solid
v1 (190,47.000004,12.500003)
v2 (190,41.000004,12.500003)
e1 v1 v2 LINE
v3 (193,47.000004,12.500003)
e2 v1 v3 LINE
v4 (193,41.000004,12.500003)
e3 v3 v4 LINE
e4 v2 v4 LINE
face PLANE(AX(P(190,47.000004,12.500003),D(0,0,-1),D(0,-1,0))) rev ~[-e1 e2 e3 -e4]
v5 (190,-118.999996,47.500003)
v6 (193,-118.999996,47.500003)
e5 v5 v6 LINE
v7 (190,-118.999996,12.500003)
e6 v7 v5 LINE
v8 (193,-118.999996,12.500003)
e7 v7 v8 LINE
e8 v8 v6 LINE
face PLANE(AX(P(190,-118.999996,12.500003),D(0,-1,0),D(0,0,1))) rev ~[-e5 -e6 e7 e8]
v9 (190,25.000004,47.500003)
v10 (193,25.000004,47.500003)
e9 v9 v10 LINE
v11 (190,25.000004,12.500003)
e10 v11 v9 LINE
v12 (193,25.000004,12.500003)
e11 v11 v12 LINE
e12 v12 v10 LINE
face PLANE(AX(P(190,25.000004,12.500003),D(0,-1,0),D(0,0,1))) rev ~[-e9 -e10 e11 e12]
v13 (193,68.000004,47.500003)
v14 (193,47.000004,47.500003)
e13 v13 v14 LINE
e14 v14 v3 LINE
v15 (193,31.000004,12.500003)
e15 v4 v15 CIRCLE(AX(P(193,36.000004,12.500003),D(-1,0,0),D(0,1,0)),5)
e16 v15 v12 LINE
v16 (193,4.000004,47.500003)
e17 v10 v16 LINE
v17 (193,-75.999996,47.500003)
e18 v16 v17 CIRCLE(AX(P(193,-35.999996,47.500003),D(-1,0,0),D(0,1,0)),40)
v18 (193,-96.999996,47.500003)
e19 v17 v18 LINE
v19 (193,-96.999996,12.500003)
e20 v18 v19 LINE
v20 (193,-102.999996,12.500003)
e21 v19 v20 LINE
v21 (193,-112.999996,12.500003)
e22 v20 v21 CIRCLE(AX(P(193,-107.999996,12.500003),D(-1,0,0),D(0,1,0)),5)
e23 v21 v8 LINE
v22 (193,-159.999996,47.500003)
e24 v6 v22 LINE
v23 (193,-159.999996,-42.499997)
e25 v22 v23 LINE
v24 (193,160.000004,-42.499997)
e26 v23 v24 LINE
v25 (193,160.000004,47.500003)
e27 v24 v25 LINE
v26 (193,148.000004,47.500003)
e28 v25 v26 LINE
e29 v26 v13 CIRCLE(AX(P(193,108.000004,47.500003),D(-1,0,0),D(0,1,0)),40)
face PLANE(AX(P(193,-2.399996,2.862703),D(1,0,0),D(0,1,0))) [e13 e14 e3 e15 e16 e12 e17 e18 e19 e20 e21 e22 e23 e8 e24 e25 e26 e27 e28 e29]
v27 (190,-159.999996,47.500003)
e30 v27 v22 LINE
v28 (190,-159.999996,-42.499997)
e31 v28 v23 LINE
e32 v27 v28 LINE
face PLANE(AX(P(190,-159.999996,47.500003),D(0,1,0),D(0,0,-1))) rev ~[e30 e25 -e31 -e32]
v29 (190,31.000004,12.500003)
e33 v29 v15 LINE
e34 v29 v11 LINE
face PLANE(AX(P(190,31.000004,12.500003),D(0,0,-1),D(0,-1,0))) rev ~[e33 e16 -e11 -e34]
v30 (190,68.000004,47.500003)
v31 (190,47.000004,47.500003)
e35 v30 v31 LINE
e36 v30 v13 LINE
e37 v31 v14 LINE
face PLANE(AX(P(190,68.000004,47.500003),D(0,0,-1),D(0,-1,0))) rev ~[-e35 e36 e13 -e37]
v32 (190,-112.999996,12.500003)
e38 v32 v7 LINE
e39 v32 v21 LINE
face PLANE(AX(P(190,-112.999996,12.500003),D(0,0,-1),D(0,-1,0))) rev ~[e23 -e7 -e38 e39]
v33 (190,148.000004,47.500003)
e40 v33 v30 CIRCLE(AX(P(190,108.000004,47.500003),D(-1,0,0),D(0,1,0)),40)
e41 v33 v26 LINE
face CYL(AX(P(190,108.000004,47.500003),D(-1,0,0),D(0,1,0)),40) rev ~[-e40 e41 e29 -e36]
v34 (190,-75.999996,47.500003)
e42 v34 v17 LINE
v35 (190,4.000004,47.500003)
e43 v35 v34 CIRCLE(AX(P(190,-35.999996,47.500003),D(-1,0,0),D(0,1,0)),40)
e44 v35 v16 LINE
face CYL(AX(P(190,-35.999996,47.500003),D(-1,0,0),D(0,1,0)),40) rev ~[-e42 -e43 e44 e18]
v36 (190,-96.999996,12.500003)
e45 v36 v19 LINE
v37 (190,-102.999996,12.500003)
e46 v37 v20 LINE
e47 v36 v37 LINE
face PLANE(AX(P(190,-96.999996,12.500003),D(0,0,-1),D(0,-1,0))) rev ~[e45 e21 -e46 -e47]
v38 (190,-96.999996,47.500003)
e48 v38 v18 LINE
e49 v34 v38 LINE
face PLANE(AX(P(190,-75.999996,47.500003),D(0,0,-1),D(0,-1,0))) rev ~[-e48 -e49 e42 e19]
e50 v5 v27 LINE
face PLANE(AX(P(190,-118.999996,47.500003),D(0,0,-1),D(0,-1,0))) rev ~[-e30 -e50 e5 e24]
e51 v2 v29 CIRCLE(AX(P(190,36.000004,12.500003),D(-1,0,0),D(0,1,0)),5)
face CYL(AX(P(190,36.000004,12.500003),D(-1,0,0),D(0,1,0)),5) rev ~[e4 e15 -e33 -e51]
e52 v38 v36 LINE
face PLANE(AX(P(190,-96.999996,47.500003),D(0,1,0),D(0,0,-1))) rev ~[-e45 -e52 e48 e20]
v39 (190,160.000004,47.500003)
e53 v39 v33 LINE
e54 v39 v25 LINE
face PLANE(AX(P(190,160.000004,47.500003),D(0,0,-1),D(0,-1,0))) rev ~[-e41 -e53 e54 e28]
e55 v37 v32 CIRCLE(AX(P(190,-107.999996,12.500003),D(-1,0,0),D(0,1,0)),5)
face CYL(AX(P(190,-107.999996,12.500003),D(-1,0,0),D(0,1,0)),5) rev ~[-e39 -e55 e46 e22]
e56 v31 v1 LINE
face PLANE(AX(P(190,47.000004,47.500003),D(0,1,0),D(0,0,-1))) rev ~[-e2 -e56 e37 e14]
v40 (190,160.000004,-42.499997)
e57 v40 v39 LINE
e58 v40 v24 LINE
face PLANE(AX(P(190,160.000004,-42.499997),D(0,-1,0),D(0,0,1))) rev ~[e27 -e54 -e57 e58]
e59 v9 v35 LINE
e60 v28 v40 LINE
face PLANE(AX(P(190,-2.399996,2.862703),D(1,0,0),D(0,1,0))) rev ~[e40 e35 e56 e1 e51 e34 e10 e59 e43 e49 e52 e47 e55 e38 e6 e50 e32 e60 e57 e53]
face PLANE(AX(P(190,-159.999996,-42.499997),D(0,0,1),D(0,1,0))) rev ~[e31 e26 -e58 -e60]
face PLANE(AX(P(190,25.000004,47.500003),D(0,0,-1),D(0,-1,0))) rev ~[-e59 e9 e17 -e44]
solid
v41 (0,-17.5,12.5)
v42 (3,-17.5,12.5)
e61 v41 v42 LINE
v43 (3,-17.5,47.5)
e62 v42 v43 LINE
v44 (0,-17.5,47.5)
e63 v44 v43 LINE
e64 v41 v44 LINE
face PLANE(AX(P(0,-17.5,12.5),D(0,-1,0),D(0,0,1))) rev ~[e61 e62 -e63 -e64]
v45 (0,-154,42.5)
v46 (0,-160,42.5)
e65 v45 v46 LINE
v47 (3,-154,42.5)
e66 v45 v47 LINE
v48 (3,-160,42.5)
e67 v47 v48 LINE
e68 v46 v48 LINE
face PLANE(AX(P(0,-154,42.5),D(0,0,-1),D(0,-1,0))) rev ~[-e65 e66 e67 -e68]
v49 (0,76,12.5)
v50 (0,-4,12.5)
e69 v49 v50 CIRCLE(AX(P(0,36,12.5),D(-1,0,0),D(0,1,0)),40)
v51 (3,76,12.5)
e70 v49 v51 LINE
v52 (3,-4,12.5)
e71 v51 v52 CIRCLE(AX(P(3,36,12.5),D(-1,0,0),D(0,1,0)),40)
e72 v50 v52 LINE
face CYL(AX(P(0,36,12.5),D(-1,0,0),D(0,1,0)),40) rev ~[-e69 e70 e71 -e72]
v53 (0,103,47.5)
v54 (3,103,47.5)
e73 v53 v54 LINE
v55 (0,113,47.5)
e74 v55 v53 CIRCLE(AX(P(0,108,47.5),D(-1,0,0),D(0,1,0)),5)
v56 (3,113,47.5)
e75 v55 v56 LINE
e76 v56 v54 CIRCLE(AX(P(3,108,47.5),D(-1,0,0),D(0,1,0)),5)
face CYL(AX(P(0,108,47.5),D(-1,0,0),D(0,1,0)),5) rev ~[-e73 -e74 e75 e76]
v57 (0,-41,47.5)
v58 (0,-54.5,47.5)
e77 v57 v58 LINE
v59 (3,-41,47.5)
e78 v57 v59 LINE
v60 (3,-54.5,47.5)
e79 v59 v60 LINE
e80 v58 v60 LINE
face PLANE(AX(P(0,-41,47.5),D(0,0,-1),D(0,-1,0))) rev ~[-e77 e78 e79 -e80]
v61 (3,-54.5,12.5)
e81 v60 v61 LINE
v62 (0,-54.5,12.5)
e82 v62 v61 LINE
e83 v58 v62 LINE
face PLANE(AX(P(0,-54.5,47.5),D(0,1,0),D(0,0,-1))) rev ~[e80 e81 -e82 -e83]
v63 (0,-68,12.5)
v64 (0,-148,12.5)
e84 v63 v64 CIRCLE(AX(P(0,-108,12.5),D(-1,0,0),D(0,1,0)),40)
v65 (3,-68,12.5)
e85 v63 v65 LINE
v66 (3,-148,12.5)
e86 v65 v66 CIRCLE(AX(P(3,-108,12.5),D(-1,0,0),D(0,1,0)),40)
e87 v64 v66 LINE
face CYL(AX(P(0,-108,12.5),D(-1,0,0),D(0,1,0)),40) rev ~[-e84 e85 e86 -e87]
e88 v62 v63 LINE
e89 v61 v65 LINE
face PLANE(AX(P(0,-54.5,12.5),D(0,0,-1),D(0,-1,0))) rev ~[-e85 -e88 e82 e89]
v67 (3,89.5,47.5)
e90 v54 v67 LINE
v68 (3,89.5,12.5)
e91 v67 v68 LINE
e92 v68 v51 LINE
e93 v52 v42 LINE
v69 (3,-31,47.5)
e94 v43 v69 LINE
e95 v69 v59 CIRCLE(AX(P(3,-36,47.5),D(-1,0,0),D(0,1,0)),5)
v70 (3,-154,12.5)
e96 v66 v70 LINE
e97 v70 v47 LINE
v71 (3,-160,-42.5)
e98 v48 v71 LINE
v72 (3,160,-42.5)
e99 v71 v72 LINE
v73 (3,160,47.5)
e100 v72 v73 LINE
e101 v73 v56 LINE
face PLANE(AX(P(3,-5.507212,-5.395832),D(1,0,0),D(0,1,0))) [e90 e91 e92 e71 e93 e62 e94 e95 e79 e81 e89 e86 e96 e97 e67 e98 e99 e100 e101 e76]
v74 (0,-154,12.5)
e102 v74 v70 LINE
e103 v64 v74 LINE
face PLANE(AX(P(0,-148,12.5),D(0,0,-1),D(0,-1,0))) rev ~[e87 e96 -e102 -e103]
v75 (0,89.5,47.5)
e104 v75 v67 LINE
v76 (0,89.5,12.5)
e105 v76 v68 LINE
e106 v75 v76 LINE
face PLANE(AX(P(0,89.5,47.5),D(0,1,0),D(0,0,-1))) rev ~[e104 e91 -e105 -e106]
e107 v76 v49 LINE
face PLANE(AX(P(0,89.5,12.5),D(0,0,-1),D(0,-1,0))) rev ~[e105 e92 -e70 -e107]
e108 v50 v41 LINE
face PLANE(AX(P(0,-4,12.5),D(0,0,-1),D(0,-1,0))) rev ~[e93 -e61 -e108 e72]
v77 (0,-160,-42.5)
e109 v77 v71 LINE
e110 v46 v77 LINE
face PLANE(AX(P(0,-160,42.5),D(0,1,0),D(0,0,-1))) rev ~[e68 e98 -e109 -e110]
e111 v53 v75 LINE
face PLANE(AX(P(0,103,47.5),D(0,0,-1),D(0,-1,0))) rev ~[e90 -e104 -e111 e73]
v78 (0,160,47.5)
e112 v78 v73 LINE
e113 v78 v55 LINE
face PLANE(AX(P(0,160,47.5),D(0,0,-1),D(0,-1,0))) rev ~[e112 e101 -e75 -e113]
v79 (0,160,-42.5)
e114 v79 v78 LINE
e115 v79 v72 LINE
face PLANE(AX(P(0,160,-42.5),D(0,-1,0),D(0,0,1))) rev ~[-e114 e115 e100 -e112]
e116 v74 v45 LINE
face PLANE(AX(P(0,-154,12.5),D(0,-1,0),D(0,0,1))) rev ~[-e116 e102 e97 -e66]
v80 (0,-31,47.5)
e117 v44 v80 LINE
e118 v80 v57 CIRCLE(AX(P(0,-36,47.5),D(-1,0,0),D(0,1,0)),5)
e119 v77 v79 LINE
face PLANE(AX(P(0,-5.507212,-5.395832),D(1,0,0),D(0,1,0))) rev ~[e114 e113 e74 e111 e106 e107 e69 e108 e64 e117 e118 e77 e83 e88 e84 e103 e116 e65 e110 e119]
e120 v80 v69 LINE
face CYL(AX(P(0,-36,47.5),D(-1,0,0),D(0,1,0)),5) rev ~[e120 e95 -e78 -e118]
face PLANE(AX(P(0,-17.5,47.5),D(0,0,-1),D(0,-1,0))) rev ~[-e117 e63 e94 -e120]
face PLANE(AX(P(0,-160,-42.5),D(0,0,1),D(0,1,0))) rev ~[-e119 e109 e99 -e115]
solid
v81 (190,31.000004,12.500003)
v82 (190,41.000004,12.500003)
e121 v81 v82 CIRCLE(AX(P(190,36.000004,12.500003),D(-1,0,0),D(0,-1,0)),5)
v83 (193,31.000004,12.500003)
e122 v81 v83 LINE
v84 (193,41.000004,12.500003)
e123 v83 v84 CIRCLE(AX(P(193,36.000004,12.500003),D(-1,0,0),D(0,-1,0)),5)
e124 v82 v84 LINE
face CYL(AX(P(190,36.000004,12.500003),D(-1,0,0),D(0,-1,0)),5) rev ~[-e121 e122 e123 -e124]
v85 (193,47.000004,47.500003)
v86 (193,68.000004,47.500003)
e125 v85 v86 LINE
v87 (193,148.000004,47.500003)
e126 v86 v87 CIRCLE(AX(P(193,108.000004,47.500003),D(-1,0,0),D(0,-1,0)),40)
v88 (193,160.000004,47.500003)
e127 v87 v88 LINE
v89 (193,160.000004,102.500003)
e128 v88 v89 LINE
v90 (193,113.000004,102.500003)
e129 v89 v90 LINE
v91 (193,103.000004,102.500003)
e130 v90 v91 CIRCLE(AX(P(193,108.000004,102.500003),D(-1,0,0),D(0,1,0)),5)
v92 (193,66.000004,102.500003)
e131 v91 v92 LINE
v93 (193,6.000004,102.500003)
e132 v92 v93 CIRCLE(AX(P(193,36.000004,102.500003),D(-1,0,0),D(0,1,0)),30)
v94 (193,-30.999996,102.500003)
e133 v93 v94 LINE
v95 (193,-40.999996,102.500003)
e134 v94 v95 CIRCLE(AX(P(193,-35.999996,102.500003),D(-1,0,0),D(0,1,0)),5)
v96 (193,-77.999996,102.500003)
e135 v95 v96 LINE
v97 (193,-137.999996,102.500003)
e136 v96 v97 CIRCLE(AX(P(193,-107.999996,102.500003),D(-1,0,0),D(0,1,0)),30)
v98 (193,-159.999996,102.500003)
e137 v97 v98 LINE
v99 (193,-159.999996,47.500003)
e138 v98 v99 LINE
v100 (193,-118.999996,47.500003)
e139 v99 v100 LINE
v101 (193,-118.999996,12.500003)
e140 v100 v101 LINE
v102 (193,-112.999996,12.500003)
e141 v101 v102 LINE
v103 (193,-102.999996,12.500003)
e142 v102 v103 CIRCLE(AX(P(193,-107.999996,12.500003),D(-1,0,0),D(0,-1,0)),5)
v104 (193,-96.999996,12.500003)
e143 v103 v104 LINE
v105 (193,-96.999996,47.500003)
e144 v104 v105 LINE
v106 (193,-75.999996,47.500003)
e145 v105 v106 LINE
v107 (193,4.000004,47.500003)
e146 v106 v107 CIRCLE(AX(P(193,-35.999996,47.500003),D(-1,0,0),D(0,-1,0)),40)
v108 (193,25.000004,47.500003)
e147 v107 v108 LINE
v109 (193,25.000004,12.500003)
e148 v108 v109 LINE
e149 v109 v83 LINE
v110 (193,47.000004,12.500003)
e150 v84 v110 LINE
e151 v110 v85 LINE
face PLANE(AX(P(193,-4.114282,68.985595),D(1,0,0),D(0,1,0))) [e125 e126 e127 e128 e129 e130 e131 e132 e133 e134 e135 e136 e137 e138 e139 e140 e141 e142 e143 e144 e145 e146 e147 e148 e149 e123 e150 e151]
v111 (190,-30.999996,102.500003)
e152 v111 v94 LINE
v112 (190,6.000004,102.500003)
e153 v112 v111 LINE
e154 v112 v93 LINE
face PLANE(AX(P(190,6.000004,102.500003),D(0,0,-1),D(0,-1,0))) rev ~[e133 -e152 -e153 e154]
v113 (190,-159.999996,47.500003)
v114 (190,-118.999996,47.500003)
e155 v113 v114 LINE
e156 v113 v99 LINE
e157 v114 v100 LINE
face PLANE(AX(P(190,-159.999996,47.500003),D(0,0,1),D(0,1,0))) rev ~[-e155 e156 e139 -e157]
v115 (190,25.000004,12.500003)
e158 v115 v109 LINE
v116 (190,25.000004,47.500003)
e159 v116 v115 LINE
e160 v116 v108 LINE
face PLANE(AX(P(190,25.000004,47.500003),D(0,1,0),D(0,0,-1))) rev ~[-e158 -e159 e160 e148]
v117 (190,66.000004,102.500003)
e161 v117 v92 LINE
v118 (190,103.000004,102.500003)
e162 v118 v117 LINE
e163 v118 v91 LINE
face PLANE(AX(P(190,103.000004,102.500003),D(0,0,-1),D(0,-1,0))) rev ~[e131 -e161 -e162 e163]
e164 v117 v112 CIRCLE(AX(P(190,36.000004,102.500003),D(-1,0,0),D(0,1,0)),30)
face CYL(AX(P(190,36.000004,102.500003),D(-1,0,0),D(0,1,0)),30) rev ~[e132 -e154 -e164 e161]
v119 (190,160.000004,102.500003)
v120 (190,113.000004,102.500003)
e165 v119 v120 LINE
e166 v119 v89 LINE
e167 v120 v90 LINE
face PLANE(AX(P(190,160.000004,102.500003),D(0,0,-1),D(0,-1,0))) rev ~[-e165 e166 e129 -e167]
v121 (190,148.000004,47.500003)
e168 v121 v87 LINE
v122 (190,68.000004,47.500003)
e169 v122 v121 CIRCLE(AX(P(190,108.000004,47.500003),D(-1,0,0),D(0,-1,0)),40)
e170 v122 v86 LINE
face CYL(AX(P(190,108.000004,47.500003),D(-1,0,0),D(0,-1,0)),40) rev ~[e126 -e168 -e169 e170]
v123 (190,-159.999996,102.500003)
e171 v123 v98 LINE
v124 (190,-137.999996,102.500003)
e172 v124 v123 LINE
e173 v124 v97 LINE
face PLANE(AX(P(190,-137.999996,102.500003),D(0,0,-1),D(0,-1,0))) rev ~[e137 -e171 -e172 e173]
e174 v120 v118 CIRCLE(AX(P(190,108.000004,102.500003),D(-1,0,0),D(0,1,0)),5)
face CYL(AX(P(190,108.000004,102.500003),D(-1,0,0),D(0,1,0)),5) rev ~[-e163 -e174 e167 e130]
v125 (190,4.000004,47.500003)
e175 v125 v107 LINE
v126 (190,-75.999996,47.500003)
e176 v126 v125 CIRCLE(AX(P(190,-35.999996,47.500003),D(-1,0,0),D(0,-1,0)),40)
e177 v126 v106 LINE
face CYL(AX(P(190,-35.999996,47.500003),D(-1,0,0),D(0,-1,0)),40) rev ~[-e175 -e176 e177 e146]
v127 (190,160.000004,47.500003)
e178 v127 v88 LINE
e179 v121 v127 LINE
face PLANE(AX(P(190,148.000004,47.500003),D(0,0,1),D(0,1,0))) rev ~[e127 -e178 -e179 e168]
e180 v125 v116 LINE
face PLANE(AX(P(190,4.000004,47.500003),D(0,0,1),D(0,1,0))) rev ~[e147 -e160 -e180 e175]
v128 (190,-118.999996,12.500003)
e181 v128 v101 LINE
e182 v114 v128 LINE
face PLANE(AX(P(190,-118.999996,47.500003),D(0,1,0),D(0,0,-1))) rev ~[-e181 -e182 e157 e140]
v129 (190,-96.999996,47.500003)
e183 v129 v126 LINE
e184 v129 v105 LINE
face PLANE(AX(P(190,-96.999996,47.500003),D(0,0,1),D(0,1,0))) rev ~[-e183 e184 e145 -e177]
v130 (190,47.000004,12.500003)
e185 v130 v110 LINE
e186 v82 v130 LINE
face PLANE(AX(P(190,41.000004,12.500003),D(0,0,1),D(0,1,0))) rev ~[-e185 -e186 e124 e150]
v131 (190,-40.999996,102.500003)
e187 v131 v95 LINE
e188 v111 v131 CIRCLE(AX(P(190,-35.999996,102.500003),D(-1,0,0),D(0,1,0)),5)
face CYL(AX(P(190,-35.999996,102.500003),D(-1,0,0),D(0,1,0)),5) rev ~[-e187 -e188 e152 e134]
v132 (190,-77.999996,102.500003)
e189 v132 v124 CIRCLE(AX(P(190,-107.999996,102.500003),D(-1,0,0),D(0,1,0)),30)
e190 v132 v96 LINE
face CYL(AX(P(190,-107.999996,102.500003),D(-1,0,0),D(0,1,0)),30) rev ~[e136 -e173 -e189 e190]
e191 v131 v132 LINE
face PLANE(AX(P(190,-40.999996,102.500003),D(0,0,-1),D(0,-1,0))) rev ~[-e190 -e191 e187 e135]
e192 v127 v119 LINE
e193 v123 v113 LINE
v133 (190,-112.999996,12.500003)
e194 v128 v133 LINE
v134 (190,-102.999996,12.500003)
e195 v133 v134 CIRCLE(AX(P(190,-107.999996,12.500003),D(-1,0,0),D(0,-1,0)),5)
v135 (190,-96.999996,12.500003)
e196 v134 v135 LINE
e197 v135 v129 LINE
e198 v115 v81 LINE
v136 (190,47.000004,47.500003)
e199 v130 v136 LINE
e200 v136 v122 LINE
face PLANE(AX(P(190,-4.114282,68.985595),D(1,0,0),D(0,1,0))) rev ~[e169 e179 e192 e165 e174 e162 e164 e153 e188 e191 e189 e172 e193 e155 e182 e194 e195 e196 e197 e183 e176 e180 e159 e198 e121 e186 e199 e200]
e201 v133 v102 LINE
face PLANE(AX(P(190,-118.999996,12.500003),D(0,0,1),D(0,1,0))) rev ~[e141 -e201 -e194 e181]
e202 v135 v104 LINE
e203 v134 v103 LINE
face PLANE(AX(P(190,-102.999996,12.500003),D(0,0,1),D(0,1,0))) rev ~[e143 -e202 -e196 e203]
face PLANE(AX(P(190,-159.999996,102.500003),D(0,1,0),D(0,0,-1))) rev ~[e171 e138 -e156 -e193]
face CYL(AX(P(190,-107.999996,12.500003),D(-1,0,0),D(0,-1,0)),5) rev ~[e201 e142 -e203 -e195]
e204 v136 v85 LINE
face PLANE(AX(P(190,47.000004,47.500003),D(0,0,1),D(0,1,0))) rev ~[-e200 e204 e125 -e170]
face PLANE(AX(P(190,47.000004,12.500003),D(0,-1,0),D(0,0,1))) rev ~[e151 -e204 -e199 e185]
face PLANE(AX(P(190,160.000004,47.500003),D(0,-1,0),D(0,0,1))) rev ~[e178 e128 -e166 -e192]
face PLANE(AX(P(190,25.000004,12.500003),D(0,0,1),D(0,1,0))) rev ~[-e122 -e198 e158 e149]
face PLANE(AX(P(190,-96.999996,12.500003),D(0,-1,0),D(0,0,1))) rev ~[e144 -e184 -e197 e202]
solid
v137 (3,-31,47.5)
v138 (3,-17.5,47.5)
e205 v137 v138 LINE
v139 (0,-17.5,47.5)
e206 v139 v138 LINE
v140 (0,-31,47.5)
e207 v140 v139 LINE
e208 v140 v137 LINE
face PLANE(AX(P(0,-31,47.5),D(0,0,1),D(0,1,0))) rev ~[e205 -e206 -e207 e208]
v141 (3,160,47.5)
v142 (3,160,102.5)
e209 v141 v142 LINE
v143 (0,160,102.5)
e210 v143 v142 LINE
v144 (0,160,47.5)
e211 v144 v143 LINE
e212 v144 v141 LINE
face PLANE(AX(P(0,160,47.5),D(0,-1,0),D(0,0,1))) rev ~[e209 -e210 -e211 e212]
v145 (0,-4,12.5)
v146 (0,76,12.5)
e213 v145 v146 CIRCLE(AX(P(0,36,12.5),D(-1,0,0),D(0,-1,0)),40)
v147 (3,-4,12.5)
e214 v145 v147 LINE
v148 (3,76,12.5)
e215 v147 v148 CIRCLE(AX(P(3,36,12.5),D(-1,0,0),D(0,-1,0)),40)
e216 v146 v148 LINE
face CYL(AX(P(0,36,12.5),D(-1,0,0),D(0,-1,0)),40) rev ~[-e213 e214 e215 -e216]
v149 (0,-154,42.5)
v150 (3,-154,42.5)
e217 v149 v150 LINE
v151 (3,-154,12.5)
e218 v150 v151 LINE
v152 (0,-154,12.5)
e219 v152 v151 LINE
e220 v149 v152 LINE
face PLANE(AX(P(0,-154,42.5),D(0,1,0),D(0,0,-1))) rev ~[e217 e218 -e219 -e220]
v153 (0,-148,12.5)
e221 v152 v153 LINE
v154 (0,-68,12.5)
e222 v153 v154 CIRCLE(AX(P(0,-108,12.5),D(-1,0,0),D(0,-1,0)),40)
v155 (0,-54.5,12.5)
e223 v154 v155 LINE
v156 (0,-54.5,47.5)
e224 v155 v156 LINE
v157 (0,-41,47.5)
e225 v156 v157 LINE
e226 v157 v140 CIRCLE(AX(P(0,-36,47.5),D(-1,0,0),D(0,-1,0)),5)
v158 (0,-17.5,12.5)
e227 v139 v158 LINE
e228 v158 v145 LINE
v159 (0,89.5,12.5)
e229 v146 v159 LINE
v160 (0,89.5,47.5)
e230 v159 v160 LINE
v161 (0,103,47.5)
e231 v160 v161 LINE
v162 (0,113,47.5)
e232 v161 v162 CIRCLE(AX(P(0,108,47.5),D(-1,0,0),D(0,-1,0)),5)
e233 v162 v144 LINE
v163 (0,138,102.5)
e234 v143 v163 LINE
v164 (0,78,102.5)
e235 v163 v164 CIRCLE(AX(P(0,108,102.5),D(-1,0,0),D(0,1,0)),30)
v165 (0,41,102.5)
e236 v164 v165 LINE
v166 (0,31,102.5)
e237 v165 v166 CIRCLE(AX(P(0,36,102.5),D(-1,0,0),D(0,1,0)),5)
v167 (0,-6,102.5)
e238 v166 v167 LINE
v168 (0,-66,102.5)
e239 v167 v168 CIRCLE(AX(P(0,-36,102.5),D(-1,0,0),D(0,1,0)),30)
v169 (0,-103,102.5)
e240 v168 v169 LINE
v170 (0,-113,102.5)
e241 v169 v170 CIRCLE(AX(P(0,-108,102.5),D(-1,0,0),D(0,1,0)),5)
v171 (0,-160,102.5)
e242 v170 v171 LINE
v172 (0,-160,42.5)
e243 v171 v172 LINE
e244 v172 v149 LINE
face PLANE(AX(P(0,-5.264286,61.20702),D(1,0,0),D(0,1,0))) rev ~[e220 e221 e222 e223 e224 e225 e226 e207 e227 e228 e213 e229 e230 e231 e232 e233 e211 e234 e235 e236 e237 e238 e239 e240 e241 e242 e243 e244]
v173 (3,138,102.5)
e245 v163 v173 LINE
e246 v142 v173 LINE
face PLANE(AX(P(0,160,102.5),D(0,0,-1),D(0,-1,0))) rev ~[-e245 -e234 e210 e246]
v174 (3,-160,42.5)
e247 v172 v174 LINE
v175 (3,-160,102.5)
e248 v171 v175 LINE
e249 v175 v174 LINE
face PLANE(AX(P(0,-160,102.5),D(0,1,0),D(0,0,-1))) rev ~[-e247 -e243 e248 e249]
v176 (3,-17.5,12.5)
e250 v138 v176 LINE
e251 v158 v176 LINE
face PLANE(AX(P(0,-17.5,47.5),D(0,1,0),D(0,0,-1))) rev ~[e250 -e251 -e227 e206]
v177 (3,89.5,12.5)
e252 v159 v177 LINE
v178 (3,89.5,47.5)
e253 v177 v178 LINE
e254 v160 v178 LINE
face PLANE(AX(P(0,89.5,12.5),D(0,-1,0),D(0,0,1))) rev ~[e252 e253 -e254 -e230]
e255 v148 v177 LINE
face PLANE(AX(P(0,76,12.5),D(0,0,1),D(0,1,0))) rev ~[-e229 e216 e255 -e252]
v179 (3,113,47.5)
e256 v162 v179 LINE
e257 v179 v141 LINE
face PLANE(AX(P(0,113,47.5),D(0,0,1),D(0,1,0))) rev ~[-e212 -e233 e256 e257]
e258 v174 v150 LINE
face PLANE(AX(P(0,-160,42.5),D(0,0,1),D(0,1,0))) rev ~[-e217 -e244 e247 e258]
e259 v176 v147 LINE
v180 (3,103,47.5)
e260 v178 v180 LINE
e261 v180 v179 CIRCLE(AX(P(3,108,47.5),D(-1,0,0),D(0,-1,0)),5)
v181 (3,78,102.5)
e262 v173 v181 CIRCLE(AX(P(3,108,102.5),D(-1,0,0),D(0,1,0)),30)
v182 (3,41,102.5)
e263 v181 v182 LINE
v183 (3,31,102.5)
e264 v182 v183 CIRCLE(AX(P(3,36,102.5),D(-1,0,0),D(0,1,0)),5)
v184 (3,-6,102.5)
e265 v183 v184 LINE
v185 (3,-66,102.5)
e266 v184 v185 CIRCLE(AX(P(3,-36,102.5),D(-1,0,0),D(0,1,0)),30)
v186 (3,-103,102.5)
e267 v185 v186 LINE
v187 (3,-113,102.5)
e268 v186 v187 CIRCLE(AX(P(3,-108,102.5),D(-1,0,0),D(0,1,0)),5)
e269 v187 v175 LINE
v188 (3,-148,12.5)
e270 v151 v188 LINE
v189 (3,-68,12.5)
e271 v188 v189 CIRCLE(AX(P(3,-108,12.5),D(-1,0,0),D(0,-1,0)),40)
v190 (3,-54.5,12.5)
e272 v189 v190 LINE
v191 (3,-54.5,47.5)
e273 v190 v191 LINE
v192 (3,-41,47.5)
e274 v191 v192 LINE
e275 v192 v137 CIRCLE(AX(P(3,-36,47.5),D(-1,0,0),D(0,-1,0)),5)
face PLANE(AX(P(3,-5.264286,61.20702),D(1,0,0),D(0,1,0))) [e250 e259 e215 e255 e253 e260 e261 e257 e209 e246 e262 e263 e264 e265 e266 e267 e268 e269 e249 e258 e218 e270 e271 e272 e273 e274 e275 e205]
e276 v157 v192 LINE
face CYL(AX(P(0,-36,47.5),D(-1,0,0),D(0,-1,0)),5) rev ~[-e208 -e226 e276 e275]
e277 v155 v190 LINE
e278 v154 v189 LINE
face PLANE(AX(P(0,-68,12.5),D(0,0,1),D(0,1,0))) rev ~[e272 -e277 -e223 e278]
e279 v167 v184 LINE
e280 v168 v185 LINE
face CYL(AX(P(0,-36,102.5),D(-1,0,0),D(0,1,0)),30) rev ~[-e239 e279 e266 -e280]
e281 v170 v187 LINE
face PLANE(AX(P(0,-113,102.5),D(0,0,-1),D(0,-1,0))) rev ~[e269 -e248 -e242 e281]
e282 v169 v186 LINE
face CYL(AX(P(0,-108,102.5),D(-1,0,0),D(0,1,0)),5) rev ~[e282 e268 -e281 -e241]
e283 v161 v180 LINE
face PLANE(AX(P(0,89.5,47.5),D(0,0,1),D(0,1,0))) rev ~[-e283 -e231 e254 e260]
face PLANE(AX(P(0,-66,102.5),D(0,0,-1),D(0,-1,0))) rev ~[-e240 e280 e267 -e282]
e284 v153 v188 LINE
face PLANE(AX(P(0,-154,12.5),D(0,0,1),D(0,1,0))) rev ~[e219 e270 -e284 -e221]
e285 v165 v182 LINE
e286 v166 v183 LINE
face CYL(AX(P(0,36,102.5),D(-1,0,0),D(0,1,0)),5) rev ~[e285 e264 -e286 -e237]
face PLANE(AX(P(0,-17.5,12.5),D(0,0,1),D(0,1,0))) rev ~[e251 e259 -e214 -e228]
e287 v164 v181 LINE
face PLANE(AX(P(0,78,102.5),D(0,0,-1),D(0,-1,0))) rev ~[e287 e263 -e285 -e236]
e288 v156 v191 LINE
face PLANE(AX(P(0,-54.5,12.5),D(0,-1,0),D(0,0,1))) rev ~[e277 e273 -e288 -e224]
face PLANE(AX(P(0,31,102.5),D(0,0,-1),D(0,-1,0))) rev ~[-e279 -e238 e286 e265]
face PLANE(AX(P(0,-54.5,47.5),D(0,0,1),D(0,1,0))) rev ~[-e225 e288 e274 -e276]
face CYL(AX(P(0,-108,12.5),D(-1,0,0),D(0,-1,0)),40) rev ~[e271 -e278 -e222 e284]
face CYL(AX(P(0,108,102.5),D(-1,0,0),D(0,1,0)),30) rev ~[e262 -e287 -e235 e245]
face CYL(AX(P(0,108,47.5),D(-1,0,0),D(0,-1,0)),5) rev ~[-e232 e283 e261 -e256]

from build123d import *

# Parameters (mm, degrees)
F1_DEPTH = 3
F2_DEPTH = 3
F5_DEPTH = 3
F6_DEPTH = 3


with BuildPart() as f1:
    # F0 (on Right) → F1 (new body)
    with BuildSketch(Plane.YZ):
        with BuildLine():
            Line((-160, -42.5), (160, -42.5))
            Line((160, -42.5), (160, 47.5))
            Line((160, 47.5), (113, 47.5))
            ThreePointArc((113, 47.5), (108, 42.5), (103, 47.5))
            Line((103, 47.5), (89.5, 47.5))
            Line((89.5, 47.5), (89.5, 12.5))
            Line((89.5, 12.5), (76, 12.5))
            ThreePointArc((76, 12.5), (36, -27.5), (-4, 12.5))
            Line((-4, 12.5), (-17.5, 12.5))
            Line((-17.5, 12.5), (-17.5, 47.5))
            Line((-17.5, 47.5), (-31, 47.5))
            ThreePointArc((-31, 47.5), (-36, 42.5), (-41, 47.5))
            Line((-41, 47.5), (-54.5, 47.5))
            Line((-54.5, 47.5), (-54.5, 12.5))
            Line((-54.5, 12.5), (-68, 12.5))
            ThreePointArc((-68, 12.5), (-108, -27.5), (-148, 12.5))
            Line((-148, 12.5), (-154, 12.5))
            Line((-154, 12.5), (-154, 42.5))
            Line((-154, 42.5), (-160, 42.5))
            Line((-160, 42.5), (-160, -42.5))
        make_face()
    extrude(amount=F1_DEPTH)


with BuildPart() as f2:
    # F0 (on Right) → F2 (new body)
    with BuildSketch(Plane.YZ):
        with BuildLine():
            Line((113, 47.5), (160, 47.5))
            Line((160, 47.5), (160, 102.5))
            Line((160, 102.5), (138, 102.5))
            ThreePointArc((138, 102.5), (108, 72.5), (78, 102.5))
            Line((78, 102.5), (41, 102.5))
            ThreePointArc((41, 102.5), (36, 97.5), (31, 102.5))
            Line((31, 102.5), (-6, 102.5))
            ThreePointArc((-6, 102.5), (-36, 72.5), (-66, 102.5))
            Line((-66, 102.5), (-103, 102.5))
            ThreePointArc((-103, 102.5), (-108, 97.5), (-113, 102.5))
            Line((-113, 102.5), (-160, 102.5))
            Line((-160, 102.5), (-160, 42.5))
            Line((-160, 42.5), (-154, 42.5))
            Line((-154, 42.5), (-154, 12.5))
            Line((-154, 12.5), (-148, 12.5))
            ThreePointArc((-148, 12.5), (-108, 52.5), (-68, 12.5))
            Line((-68, 12.5), (-54.5, 12.5))
            Line((-54.5, 12.5), (-54.5, 47.5))
            Line((-54.5, 47.5), (-41, 47.5))
            ThreePointArc((-41, 47.5), (-36, 52.5), (-31, 47.5))
            Line((-31, 47.5), (-17.5, 47.5))
            Line((-17.5, 47.5), (-17.5, 12.5))
            Line((-17.5, 12.5), (-4, 12.5))
            ThreePointArc((-4, 12.5), (36, 52.5), (76, 12.5))
            Line((76, 12.5), (89.5, 12.5))
            Line((89.5, 12.5), (89.5, 47.5))
            Line((89.5, 47.5), (103, 47.5))
            ThreePointArc((103, 47.5), (108, 52.5), (113, 47.5))
        make_face()
    extrude(amount=F2_DEPTH)


with BuildPart() as f5:
    # F4 (on offset) → F5 (new body)
    with BuildSketch(Plane.YZ.offset(190)):
        with BuildLine():
            Line((-159.999996, -42.499997), (160.000004, -42.499997))
            Line((160.000004, -42.499997), (160.000004, 47.500003))
            Line((160.000004, 47.500003), (148.000004, 47.500003))
            ThreePointArc((148.000004, 47.500003), (108.000004, 7.500003), (68.000004, 47.500003))
            Line((68.000004, 47.500003), (47.000004, 47.500003))
            Line((47.000004, 47.500003), (47.000004, 12.500003))
            Line((47.000004, 12.500003), (41.000004, 12.500003))
            ThreePointArc((41.000004, 12.500003), (36.000004, 7.500003), (31.000004, 12.500003))
            Line((31.000004, 12.500003), (25.000004, 12.500003))
            Line((25.000004, 12.500003), (25.000004, 47.500003))
            Line((25.000004, 47.500003), (4.000004, 47.500003))
            ThreePointArc((4.000004, 47.500003), (-35.999996, 7.500003), (-75.999996, 47.500003))
            Line((-75.999996, 47.500003), (-96.999996, 47.500003))
            Line((-96.999996, 47.500003), (-96.999996, 12.500003))
            Line((-96.999996, 12.500003), (-102.999996, 12.500003))
            ThreePointArc((-102.999996, 12.500003), (-107.999996, 7.500003), (-112.999996, 12.500003))
            Line((-112.999996, 12.500003), (-118.999996, 12.500003))
            Line((-118.999996, 12.500003), (-118.999996, 47.500003))
            Line((-118.999996, 47.500003), (-159.999996, 47.500003))
            Line((-159.999996, 47.500003), (-159.999996, -42.499997))
        make_face()
    extrude(amount=F5_DEPTH)


with BuildPart() as f6:
    # F4 (on offset) → F6 (new body)
    with BuildSketch(Plane.YZ.offset(190)):
        with BuildLine():
            Line((148.000004, 47.500003), (160.000004, 47.500003))
            Line((160.000004, 47.500003), (160.000004, 102.500003))
            Line((160.000004, 102.500003), (113.000004, 102.500003))
            ThreePointArc((113.000004, 102.500003), (108.000004, 97.500003), (103.000004, 102.500003))
            Line((103.000004, 102.500003), (66.000004, 102.500003))
            ThreePointArc((66.000004, 102.500003), (36.000004, 72.500003), (6.000004, 102.500003))
            Line((6.000004, 102.500003), (-30.999996, 102.500003))
            ThreePointArc((-30.999996, 102.500003), (-35.999996, 97.500003), (-40.999996, 102.500003))
            Line((-40.999996, 102.500003), (-77.999996, 102.500003))
            ThreePointArc((-77.999996, 102.500003), (-107.999996, 72.500003), (-137.999996, 102.500003))
            Line((-137.999996, 102.500003), (-159.999996, 102.500003))
            Line((-159.999996, 102.500003), (-159.999996, 47.500003))
            Line((-159.999996, 47.500003), (-118.999996, 47.500003))
            Line((-118.999996, 47.500003), (-118.999996, 12.500003))
            Line((-118.999996, 12.500003), (-112.999996, 12.500003))
            ThreePointArc((-112.999996, 12.500003), (-107.999996, 17.500003), (-102.999996, 12.500003))
            Line((-102.999996, 12.500003), (-96.999996, 12.500003))
            Line((-96.999996, 12.500003), (-96.999996, 47.500003))
            Line((-96.999996, 47.500003), (-75.999996, 47.500003))
            ThreePointArc((-75.999996, 47.500003), (-35.999996, 87.500003), (4.000004, 47.500003))
            Line((4.000004, 47.500003), (25.000004, 47.500003))
            Line((25.000004, 47.500003), (25.000004, 12.500003))
            Line((25.000004, 12.500003), (31.000004, 12.500003))
            ThreePointArc((31.000004, 12.500003), (36.000004, 17.500003), (41.000004, 12.500003))
            Line((41.000004, 12.500003), (47.000004, 12.500003))
            Line((47.000004, 12.500003), (47.000004, 47.500003))
            Line((47.000004, 47.500003), (68.000004, 47.500003))
            ThreePointArc((68.000004, 47.500003), (108.000004, 87.500003), (148.000004, 47.500003))
        make_face()
    extrude(amount=F6_DEPTH)


solid = Compound([f1.part, f2.part, f5.part, f6.part])
